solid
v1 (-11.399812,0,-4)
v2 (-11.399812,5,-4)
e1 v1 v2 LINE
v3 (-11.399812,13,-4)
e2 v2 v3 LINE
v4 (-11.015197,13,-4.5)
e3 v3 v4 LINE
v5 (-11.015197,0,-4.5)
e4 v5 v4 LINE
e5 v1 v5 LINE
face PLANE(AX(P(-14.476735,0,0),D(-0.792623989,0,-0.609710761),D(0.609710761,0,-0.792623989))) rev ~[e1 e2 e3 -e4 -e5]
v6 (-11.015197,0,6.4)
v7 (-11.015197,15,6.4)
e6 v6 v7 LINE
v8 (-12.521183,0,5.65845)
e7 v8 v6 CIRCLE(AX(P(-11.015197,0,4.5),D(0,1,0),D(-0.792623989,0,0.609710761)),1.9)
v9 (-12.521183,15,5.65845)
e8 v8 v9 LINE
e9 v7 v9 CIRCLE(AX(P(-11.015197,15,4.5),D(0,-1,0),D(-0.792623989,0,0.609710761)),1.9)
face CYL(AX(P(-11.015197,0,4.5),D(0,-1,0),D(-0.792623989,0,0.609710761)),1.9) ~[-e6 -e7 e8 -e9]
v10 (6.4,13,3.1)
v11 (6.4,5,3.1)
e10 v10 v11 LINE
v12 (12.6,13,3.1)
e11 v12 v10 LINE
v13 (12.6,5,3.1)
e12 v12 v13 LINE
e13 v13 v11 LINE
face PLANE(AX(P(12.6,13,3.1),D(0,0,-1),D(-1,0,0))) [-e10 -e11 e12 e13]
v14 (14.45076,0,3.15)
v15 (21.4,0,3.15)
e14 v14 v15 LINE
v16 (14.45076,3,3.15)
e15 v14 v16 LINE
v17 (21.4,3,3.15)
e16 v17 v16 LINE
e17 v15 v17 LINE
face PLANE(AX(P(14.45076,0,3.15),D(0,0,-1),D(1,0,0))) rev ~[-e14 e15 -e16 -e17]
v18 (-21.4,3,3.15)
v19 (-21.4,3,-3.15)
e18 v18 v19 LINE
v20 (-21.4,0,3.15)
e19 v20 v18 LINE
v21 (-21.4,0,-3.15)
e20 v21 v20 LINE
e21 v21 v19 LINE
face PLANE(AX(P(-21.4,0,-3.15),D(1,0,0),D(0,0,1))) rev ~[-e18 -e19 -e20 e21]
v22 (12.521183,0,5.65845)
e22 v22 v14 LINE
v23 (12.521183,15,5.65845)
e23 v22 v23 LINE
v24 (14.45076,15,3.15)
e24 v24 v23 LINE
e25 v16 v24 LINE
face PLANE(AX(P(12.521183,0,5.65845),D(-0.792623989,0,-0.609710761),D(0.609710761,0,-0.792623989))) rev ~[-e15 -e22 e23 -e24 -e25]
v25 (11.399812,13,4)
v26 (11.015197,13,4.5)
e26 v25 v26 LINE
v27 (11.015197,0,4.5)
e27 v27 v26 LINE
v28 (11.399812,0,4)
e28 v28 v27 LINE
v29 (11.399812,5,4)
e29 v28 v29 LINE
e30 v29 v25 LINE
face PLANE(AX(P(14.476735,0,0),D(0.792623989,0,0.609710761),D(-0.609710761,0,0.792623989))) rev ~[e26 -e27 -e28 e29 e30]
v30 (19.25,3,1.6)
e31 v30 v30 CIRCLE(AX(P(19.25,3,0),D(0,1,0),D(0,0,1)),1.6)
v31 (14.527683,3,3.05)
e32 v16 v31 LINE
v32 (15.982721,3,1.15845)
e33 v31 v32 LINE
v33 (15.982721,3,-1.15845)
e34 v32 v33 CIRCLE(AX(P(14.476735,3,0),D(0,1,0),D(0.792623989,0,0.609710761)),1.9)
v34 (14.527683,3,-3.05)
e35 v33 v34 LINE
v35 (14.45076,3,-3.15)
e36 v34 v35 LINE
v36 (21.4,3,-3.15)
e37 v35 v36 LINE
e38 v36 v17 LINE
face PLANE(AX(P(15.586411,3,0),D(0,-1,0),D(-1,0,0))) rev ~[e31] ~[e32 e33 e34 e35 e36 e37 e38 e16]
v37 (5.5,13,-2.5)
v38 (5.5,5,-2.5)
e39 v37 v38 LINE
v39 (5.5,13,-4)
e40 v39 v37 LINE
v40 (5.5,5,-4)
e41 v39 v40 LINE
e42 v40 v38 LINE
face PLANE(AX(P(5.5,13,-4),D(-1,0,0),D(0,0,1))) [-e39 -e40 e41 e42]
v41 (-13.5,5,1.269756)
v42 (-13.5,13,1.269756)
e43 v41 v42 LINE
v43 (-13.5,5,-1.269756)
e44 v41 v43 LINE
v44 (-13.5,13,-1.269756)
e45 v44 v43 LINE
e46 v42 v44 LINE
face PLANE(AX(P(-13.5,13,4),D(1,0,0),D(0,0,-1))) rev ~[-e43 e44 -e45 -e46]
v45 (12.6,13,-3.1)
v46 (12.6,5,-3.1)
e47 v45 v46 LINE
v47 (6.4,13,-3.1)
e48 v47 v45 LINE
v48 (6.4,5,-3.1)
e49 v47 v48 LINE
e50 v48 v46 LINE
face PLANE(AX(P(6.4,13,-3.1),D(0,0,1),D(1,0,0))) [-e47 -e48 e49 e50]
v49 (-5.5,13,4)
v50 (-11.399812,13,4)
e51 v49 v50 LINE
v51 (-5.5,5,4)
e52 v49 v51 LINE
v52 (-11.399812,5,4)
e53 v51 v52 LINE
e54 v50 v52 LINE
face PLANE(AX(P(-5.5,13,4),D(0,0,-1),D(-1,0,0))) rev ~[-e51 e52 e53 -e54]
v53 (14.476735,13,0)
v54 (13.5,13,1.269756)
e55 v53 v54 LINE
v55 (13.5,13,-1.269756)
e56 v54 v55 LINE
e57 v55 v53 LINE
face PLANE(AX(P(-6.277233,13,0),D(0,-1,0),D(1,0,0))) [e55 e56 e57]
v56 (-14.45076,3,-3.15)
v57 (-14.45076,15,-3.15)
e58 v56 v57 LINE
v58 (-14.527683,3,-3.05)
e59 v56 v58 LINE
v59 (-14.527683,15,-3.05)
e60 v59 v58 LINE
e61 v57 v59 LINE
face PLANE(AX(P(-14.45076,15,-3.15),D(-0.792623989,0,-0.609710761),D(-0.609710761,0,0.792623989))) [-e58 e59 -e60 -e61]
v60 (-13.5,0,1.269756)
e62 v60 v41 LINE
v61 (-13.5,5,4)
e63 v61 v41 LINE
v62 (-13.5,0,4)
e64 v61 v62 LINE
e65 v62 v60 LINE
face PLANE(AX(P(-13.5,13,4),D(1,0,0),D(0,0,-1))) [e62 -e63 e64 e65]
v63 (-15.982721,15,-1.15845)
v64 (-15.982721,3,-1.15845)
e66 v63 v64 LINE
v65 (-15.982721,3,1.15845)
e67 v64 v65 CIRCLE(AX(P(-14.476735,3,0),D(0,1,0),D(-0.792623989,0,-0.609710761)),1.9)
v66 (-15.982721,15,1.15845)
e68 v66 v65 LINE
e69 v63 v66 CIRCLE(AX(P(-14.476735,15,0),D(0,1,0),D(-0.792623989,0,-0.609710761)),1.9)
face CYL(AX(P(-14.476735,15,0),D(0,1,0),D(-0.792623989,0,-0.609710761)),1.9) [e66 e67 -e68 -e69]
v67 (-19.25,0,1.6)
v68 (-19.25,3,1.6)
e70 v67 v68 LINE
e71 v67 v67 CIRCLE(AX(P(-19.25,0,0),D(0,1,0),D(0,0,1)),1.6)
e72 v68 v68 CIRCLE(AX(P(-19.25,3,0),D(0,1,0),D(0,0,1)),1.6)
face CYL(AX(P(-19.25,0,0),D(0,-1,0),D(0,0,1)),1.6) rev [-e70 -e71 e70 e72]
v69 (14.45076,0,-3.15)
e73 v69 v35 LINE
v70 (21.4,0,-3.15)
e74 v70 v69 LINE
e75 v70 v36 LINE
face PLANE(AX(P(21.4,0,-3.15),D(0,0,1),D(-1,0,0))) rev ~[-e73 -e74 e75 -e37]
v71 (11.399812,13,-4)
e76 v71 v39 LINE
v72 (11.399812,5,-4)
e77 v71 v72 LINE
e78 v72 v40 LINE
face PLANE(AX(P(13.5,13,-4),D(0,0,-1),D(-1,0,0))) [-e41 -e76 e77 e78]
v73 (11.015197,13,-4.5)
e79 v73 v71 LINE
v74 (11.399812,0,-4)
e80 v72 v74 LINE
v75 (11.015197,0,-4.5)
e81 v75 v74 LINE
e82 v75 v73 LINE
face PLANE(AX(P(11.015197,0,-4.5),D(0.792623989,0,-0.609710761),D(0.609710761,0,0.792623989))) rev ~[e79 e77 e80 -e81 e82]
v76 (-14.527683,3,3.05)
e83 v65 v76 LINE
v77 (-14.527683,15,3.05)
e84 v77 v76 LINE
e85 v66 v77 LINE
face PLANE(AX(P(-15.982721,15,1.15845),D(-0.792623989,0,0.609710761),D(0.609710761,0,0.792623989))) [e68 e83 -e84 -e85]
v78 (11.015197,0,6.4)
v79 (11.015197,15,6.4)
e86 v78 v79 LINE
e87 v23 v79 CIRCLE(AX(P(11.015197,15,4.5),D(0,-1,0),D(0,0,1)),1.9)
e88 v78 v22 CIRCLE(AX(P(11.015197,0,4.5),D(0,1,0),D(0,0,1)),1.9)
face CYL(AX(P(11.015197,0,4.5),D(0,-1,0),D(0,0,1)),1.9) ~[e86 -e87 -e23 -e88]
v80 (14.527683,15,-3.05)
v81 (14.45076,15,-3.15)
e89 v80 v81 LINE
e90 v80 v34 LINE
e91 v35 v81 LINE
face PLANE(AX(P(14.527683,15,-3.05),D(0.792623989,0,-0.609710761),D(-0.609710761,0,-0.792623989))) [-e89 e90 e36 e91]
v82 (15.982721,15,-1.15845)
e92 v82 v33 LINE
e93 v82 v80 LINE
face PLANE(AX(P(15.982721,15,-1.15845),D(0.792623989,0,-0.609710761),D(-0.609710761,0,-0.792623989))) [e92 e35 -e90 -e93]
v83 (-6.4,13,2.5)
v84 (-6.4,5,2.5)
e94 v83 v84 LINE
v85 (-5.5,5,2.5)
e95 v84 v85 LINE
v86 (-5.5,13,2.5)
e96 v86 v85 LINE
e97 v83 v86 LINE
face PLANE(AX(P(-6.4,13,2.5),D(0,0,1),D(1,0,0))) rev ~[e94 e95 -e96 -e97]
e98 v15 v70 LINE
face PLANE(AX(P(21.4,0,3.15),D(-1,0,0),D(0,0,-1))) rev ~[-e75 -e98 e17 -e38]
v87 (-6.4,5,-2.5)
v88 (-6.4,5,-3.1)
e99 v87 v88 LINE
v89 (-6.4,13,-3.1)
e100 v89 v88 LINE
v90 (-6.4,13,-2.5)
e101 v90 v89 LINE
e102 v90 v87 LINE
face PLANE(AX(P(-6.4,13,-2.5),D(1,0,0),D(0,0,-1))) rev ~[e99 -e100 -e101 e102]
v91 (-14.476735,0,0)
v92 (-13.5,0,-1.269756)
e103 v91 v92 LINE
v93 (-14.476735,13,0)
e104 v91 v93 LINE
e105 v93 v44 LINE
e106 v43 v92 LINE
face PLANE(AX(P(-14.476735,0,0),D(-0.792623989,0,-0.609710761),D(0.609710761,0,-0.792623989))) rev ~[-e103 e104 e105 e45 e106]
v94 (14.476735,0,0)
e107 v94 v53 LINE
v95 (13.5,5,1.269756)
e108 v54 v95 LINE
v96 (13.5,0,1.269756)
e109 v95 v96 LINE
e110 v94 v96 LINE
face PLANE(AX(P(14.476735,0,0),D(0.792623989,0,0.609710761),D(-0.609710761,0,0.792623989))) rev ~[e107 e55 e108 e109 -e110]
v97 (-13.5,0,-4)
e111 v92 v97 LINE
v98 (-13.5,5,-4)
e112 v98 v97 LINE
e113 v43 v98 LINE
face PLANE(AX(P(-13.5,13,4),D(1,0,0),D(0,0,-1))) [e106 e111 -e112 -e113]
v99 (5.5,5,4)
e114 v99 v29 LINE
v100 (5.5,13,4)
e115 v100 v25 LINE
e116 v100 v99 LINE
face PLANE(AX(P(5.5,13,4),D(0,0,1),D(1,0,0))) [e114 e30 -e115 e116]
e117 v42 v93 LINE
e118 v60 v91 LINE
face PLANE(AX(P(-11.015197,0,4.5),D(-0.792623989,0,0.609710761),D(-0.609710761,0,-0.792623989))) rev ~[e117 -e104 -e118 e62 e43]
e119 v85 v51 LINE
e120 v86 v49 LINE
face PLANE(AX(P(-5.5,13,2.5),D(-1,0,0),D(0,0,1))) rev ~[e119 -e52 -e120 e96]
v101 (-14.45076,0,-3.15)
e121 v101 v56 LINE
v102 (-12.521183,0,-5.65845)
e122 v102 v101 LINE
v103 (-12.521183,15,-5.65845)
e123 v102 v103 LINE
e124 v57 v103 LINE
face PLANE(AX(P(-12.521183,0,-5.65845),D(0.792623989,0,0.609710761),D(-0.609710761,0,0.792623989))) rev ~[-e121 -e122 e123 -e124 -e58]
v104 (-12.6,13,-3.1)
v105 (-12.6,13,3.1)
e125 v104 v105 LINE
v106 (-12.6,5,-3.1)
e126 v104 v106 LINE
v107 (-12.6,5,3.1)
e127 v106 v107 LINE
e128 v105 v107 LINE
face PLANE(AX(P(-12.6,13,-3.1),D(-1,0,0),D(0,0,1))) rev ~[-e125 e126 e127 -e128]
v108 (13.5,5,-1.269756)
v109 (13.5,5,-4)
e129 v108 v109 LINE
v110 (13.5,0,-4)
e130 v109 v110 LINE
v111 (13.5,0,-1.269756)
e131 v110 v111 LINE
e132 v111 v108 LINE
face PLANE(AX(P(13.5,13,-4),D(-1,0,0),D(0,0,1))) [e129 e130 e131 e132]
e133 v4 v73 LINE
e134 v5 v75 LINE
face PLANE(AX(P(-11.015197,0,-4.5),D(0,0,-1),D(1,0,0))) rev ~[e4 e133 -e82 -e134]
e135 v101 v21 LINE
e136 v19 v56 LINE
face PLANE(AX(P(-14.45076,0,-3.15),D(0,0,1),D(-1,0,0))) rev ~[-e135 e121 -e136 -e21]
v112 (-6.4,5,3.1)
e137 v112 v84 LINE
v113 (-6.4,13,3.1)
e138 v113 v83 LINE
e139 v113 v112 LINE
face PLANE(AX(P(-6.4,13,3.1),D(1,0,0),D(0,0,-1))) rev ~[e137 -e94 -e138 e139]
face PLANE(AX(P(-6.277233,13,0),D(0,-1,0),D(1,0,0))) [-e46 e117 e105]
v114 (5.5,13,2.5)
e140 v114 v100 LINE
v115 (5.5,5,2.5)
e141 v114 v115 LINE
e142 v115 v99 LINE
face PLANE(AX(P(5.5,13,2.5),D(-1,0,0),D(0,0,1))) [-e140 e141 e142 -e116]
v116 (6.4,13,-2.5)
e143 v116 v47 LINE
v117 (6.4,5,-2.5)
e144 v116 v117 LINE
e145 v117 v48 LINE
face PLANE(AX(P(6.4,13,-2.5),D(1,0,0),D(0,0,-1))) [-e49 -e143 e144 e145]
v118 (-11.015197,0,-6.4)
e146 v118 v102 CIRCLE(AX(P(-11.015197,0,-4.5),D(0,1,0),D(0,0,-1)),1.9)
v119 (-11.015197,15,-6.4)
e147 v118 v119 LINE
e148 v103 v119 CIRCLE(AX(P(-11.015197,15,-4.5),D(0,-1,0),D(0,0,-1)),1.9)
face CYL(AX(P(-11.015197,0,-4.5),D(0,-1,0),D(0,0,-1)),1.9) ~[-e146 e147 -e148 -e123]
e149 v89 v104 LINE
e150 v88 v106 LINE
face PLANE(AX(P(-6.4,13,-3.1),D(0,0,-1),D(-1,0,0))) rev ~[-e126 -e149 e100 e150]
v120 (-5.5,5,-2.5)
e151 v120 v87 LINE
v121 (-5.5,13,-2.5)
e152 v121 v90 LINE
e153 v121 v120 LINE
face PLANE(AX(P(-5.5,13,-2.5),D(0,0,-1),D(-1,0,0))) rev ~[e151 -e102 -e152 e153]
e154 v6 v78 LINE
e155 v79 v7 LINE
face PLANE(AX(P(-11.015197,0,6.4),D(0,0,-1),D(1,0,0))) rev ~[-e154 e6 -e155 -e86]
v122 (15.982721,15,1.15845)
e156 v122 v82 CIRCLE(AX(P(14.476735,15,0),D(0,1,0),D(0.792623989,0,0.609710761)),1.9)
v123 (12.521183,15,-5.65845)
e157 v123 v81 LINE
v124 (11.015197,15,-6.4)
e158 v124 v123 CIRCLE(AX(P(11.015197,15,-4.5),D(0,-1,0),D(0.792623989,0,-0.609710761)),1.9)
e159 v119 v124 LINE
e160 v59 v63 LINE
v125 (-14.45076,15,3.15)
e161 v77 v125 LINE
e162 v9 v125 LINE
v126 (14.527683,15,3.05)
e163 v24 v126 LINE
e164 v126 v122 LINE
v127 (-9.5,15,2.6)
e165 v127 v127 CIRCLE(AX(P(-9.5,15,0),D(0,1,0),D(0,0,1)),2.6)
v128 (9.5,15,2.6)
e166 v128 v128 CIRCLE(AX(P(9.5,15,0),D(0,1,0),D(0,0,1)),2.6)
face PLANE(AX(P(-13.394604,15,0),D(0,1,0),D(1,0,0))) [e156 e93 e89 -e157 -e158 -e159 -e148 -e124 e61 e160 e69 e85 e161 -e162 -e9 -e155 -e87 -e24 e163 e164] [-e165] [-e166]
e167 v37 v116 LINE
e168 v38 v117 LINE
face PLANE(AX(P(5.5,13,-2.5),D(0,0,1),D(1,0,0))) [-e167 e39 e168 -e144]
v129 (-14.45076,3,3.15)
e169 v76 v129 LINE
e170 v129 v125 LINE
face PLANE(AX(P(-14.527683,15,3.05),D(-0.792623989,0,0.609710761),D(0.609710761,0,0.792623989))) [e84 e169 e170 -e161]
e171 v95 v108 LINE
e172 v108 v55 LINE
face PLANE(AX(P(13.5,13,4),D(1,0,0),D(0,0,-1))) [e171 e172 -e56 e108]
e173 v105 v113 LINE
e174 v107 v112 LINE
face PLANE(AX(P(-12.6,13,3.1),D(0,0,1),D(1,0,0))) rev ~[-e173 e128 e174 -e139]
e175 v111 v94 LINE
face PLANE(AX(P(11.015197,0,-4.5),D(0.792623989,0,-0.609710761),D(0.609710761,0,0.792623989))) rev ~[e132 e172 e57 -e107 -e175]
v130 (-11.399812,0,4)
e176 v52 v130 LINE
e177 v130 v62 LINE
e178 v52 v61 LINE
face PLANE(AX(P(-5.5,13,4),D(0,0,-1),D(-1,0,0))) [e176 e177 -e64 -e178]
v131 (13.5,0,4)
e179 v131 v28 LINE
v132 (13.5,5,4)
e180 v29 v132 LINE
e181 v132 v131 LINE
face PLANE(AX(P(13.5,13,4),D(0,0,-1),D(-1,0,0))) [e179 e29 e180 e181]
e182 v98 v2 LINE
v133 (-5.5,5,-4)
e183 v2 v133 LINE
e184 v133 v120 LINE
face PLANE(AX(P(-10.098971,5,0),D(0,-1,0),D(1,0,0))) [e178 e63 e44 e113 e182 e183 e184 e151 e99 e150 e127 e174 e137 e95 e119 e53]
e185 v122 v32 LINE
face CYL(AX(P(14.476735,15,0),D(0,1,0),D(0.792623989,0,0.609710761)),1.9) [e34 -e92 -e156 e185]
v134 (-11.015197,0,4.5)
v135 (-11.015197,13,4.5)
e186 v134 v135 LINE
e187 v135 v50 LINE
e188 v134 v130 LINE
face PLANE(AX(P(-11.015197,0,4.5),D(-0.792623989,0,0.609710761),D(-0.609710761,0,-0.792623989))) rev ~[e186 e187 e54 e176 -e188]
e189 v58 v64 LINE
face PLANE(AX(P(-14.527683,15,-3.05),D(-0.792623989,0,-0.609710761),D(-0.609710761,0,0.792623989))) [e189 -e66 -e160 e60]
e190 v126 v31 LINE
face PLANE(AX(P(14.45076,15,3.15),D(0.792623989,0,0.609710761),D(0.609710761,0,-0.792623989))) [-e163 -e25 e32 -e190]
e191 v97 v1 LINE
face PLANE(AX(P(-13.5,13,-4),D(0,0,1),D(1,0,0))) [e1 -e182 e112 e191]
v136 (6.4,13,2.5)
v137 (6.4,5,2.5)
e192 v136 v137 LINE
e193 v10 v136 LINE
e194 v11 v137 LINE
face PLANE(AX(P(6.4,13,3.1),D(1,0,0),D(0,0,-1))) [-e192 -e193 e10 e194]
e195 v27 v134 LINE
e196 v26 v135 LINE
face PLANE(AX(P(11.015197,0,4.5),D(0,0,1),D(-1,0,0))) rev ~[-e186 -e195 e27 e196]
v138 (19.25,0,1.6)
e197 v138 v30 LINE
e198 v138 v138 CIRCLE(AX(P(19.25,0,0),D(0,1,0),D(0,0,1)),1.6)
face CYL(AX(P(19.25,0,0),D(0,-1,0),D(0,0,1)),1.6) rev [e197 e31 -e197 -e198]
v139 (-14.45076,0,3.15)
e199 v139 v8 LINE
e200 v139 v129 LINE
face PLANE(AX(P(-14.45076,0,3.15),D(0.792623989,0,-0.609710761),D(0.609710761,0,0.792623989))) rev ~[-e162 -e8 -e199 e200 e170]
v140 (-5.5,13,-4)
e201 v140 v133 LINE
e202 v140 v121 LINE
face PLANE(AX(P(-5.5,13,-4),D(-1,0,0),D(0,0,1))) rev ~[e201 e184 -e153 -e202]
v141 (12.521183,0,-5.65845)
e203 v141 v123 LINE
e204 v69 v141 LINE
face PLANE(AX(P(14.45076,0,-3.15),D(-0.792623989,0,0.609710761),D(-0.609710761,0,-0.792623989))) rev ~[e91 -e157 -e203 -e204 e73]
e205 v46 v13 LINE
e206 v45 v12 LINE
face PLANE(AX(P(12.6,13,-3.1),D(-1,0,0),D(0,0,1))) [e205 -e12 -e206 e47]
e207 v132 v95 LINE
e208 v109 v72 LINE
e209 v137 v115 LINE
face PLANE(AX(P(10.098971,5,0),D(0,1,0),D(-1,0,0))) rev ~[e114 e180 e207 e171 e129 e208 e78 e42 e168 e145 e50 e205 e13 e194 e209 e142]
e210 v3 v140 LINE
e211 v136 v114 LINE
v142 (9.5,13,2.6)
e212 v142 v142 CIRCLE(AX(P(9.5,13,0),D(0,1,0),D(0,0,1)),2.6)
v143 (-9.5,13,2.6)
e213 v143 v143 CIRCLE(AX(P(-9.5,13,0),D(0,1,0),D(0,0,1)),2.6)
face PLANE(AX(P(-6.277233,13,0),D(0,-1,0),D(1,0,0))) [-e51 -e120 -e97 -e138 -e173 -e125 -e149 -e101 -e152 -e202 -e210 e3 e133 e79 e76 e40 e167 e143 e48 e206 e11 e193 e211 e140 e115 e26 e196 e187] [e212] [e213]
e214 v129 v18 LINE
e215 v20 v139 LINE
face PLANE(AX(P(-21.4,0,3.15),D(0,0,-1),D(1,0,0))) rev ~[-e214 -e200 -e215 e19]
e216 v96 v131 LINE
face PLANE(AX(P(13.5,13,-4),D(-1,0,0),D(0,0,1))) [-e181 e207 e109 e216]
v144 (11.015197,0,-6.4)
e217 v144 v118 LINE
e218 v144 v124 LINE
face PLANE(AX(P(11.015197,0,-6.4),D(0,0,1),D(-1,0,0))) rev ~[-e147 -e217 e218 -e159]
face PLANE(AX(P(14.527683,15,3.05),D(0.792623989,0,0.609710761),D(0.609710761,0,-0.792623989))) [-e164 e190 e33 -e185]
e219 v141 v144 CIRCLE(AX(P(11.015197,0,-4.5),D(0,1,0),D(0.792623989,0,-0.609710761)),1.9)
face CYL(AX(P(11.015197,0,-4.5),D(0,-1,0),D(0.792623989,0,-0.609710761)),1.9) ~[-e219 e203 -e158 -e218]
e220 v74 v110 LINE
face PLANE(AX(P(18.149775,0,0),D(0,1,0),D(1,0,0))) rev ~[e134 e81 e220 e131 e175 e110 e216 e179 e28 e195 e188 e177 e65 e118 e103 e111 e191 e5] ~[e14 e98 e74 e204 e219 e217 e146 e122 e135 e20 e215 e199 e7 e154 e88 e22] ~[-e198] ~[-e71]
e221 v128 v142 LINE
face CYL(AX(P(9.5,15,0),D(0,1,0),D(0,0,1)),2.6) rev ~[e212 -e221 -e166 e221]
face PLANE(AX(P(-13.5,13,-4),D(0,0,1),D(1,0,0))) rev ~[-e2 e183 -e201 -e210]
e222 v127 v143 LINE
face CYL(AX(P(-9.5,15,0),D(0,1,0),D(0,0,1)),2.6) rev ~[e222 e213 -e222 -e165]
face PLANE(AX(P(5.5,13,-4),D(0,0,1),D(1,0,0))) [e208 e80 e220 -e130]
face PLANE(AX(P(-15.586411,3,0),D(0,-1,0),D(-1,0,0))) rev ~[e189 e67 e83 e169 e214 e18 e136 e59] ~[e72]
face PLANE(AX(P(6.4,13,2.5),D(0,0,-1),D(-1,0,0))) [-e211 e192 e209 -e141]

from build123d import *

# Parameters (mm, degrees)
SKETCH1_W           = 24
SKETCH1_H           = 13
BOSS_EXTRUDE1_DEPTH = 15
CUT_EXTRUDE1_DEPTH  = 13
SKETCH3_R           = 2.6
CUT_EXTRUDE2_DEPTH  = 2
CUT_EXTRUDE3_DEPTH  = 13
BOSS_EXTRUDE3_DEPTH = 8
SKETCH6_R           = 1.6
BOSS_EXTRUDE4_DEPTH = 3
FILLET1_R           = 2
CUT_EXTRUDE8_DEPTH  = 28.009257672
CUT_EXTRUDE9_DEPTH  = 12


with BuildPart() as part:
    # Sketch1 → Boss-Extrude1 (new body)
    with BuildSketch(Plane(origin=(0, 0, 0), x_dir=(1, 0, 0), z_dir=(0, 1, 0))):
        Polygon((-12, -6.5), (-12, 6.5), (-17, 0), align=None)
        Rectangle(SKETCH1_W, SKETCH1_H)
        Polygon((17, 0), (12, -6.5), (12, 6.5), align=None)
    extrude(amount=BOSS_EXTRUDE1_DEPTH)

    # Sketch2 → Cut-Extrude1 (cut)
    with BuildSketch(Plane.XZ):
        Polygon((-11.015197005, 4.5), (-14.476735467, 0), (-11.015197005, -4.5), (0, -4.5), (0, 4.5), align=None)
        Polygon((0, 4.5), (0, -4.5), (11.015197005, -4.5), (14.476735467, 0), (11.015197005, 4.5), align=None)
    extrude(amount=-CUT_EXTRUDE1_DEPTH, mode=Mode.SUBTRACT)

    # Sketch3 → Cut-Extrude2 (cut)
    with BuildSketch(Plane(origin=(0, 15, 0), x_dir=(1, 0, 0), z_dir=(0, 1, 0))):
        with Locations(Location((-9.5, 0, 0), (0, 0, 270))):
            Circle(SKETCH3_R)
        with Locations(Location((9.5, 0, 0), (0, 0, 270))):
            Circle(SKETCH3_R)
    extrude(amount=-CUT_EXTRUDE2_DEPTH, mode=Mode.SUBTRACT)

    # Sketch4 → Cut-Extrude3 (cut)
    with BuildSketch(Plane.XZ.offset(-13)):
        Polygon((-6.4, 2.5), (-5.5, 2.5), (-5.5, 4), (-13.5, 4), (-13.5, -4), (-5.5, -4), (-5.5, -2.5), (-6.4, -2.5), (-6.4, -3.1), (-12.092120082, -3.1), (-12.6, -2.439756107), (-12.6, 2.439756107), (-12.082269007, 3.1), (-6.4, 3.1), align=None)
        Polygon((6.4, 2.5), (6.4, 3.1), (12.082269007, 3.1), (12.6, 2.439756107), (12.6, -2.439756107), (12.092120082, -3.1), (6.4, -3.1), (6.4, -2.5), (5.5, -2.5), (5.5, -4), (13.5, -4), (13.5, 4), (5.5, 4), (5.5, 2.5), align=None)
    extrude(amount=CUT_EXTRUDE3_DEPTH, mode=Mode.SUBTRACT)

    # Sketch5 → Boss-Extrude3 (add)
    with BuildSketch(Plane.XZ.offset(-13)):
        Polygon((-6.4, -3.1), (-12.6, -3.1), (-12.6, 3.1), (-6.4, 3.1), (-6.4, 2.5), (-5.5, 2.5), (-5.5, 4), (-13.5, 4), (-13.5, -4), (-5.5, -4), (-5.5, -2.5), (-6.4, -2.5), align=None)
        Polygon((12.6, -3.1), (12.6, 3.1), (6.4, 3.1), (6.4, 2.5), (5.5, 2.5), (5.5, 4), (13.5, 4), (13.5, -4), (5.5, -4), (5.5, -2.5), (6.4, -2.5), (6.4, -3.1), align=None)
    extrude(amount=BOSS_EXTRUDE3_DEPTH)

    # Sketch6 → Boss-Extrude4 (add)
    # profile 1 of 2: a face of its own
    with BuildSketch(Plane(origin=(0, 0, 0), x_dir=(1, 0, 0), z_dir=(0, 1, 0))):
        Polygon((21.5, 3.25), (14.5, 3.25), (17, 0), (14.5, -3.25), (21.5, -3.25), align=None)
        with Locations(Location((19.25, 0, 0), (0, 0, 270))):
            Circle(SKETCH6_R, mode=Mode.SUBTRACT)
    # profile 2 of 2: a face of its own
    with BuildSketch(Plane(origin=(0, 0, 0), x_dir=(1, 0, 0), z_dir=(0, 1, 0))):
        Polygon((-17, 0), (-14.5, 3.25), (-21.5, 3.25), (-21.5, -3.25), (-14.5, -3.25), align=None)
        with Locations(Location((-19.25, 0, 0), (0, 0, 270))):
            Circle(SKETCH6_R, mode=Mode.SUBTRACT)
    extrude(amount=BOSS_EXTRUDE4_DEPTH)

    # Fillet1
    fillet1_edges = [part.edges().sort_by_distance(p)[0] for p in [
        (-17, 9, 0),
        (-12, 7.5, -6.5),
        (12, 7.5, -6.5),
        (17, 9, 0),
        (12, 7.5, 6.5),
        (-12, 7.5, 6.5),
    ]]
    fillet(fillet1_edges, radius=FILLET1_R)

    # Sketch8 → Cut-Extrude8 (cut, through all)
    with BuildSketch(Plane.XZ):
        with BuildLine():
            Line((-14.5, -3.25), (-21.5, -3.25))
            Line((-21.5, -3.25), (-21.5, 3.25))
            Line((-21.5, 3.25), (-14.5, 3.25))
            Line((-14.5, 3.25), (-12.600444983, 5.719421522))
            ThreePointArc((-12.600444983, 5.719421522), (-11.89870053, 6.294274651), (-11.015197005, 6.5))
            Line((-11.015197005, 6.5), (11.015197005, 6.5))
            ThreePointArc((11.015197005, 6.5), (11.89870053, 6.294274651), (12.600444983, 5.719421522))
            Line((12.600444983, 5.719421522), (14.5, 3.25))
            Line((14.5, 3.25), (21.5, 3.25))
            Line((21.5, 3.25), (21.5, -3.25))
            Line((21.5, -3.25), (14.5, -3.25))
            Line((14.5, -3.25), (12.600444983, -5.719421522))
            ThreePointArc((12.600444983, -5.719421522), (11.89870053, -6.294274651), (11.015197005, -6.5))
            Line((11.015197005, -6.5), (-11.015197005, -6.5))
            ThreePointArc((-11.015197005, -6.5), (-11.89870053, -6.294274651), (-12.600444983, -5.719421522))
            Line((-12.600444983, -5.719421522), (-14.5, -3.25))
        make_face()
        with BuildLine():
            Line((-14.45075985, -3.15), (-21.4, -3.15))
            Line((-21.4, -3.15), (-21.4, 3.15))
            Line((-21.4, 3.15), (-14.45075985, 3.15))
            Line((-14.45075985, 3.15), (-12.521182584, 5.658450446))
            ThreePointArc((-12.521182584, 5.658450446), (-11.854525354, 6.204560918), (-11.015197005, 6.4))
            Line((-11.015197005, 6.4), (11.015197005, 6.4))
            ThreePointArc((11.015197005, 6.4), (11.854525354, 6.204560918), (12.521182584, 5.658450446))
            Line((12.521182584, 5.658450446), (14.45075985, 3.15))
            Line((14.45075985, 3.15), (21.4, 3.15))
            Line((21.4, 3.15), (21.4, -3.15))
            Line((21.4, -3.15), (14.45075985, -3.15))
            Line((14.45075985, -3.15), (12.521182584, -5.658450446))
            ThreePointArc((12.521182584, -5.658450446), (11.854525354, -6.204560918), (11.015197005, -6.4))
            Line((11.015197005, -6.4), (-11.015197005, -6.4))
            ThreePointArc((-11.015197005, -6.4), (-11.854525354, -6.204560918), (-12.521182584, -5.658450446))
            Line((-12.521182584, -5.658450446), (-14.45075985, -3.15))
        make_face(mode=Mode.SUBTRACT)
    extrude(amount=-CUT_EXTRUDE8_DEPTH, mode=Mode.SUBTRACT)

    # Sketch9 → Cut-Extrude9 (cut)
    with BuildSketch(Plane(origin=(0, 15, 0), x_dir=(1, 0, 0), z_dir=(0, 1, 0))):
        with BuildLine():
            Line((14.576923077, -3.15), (14.45075985, -3.15))
            Line((14.45075985, -3.15), (14.527682927, -3.05))
            Line((14.527682927, -3.05), (15.982721046, -1.158450446))
            ThreePointArc((15.982721046, -1.158450446), (16.376735467, 0), (15.982721046, 1.158450446))
            Line((15.982721046, 1.158450446), (14.527682927, 3.05))
            Line((14.527682927, 3.05), (14.45075985, 3.15))
            Line((14.45075985, 3.15), (14.576923077, 3.15))
            Line((14.576923077, 3.15), (16.061983445, 1.219421522))
            ThreePointArc((16.061983445, 1.219421522), (16.476735467, 0), (16.061983445, -1.219421522))
            Line((16.061983445, -1.219421522), (14.576923077, -3.15))
        make_face()
        with BuildLine():
            Line((-14.45075985, -3.15), (-14.576923077, -3.15))
            Line((-14.576923077, -3.15), (-16.061983445, -1.219421522))
            ThreePointArc((-16.061983445, -1.219421522), (-16.476735467, 0), (-16.061983445, 1.219421522))
            Line((-16.061983445, 1.219421522), (-14.576923077, 3.15))
            Line((-14.576923077, 3.15), (-14.45075985, 3.15))
            Line((-14.45075985, 3.15), (-14.527682927, 3.05))
            Line((-14.527682927, 3.05), (-15.982721046, 1.158450446))
            ThreePointArc((-15.982721046, 1.158450446), (-16.376735467, 0), (-15.982721046, -1.158450446))
            Line((-15.982721046, -1.158450446), (-14.527682927, -3.05))
            Line((-14.527682927, -3.05), (-14.45075985, -3.15))
        make_face()
    extrude(amount=-CUT_EXTRUDE9_DEPTH, mode=Mode.SUBTRACT)


solid = part.part
